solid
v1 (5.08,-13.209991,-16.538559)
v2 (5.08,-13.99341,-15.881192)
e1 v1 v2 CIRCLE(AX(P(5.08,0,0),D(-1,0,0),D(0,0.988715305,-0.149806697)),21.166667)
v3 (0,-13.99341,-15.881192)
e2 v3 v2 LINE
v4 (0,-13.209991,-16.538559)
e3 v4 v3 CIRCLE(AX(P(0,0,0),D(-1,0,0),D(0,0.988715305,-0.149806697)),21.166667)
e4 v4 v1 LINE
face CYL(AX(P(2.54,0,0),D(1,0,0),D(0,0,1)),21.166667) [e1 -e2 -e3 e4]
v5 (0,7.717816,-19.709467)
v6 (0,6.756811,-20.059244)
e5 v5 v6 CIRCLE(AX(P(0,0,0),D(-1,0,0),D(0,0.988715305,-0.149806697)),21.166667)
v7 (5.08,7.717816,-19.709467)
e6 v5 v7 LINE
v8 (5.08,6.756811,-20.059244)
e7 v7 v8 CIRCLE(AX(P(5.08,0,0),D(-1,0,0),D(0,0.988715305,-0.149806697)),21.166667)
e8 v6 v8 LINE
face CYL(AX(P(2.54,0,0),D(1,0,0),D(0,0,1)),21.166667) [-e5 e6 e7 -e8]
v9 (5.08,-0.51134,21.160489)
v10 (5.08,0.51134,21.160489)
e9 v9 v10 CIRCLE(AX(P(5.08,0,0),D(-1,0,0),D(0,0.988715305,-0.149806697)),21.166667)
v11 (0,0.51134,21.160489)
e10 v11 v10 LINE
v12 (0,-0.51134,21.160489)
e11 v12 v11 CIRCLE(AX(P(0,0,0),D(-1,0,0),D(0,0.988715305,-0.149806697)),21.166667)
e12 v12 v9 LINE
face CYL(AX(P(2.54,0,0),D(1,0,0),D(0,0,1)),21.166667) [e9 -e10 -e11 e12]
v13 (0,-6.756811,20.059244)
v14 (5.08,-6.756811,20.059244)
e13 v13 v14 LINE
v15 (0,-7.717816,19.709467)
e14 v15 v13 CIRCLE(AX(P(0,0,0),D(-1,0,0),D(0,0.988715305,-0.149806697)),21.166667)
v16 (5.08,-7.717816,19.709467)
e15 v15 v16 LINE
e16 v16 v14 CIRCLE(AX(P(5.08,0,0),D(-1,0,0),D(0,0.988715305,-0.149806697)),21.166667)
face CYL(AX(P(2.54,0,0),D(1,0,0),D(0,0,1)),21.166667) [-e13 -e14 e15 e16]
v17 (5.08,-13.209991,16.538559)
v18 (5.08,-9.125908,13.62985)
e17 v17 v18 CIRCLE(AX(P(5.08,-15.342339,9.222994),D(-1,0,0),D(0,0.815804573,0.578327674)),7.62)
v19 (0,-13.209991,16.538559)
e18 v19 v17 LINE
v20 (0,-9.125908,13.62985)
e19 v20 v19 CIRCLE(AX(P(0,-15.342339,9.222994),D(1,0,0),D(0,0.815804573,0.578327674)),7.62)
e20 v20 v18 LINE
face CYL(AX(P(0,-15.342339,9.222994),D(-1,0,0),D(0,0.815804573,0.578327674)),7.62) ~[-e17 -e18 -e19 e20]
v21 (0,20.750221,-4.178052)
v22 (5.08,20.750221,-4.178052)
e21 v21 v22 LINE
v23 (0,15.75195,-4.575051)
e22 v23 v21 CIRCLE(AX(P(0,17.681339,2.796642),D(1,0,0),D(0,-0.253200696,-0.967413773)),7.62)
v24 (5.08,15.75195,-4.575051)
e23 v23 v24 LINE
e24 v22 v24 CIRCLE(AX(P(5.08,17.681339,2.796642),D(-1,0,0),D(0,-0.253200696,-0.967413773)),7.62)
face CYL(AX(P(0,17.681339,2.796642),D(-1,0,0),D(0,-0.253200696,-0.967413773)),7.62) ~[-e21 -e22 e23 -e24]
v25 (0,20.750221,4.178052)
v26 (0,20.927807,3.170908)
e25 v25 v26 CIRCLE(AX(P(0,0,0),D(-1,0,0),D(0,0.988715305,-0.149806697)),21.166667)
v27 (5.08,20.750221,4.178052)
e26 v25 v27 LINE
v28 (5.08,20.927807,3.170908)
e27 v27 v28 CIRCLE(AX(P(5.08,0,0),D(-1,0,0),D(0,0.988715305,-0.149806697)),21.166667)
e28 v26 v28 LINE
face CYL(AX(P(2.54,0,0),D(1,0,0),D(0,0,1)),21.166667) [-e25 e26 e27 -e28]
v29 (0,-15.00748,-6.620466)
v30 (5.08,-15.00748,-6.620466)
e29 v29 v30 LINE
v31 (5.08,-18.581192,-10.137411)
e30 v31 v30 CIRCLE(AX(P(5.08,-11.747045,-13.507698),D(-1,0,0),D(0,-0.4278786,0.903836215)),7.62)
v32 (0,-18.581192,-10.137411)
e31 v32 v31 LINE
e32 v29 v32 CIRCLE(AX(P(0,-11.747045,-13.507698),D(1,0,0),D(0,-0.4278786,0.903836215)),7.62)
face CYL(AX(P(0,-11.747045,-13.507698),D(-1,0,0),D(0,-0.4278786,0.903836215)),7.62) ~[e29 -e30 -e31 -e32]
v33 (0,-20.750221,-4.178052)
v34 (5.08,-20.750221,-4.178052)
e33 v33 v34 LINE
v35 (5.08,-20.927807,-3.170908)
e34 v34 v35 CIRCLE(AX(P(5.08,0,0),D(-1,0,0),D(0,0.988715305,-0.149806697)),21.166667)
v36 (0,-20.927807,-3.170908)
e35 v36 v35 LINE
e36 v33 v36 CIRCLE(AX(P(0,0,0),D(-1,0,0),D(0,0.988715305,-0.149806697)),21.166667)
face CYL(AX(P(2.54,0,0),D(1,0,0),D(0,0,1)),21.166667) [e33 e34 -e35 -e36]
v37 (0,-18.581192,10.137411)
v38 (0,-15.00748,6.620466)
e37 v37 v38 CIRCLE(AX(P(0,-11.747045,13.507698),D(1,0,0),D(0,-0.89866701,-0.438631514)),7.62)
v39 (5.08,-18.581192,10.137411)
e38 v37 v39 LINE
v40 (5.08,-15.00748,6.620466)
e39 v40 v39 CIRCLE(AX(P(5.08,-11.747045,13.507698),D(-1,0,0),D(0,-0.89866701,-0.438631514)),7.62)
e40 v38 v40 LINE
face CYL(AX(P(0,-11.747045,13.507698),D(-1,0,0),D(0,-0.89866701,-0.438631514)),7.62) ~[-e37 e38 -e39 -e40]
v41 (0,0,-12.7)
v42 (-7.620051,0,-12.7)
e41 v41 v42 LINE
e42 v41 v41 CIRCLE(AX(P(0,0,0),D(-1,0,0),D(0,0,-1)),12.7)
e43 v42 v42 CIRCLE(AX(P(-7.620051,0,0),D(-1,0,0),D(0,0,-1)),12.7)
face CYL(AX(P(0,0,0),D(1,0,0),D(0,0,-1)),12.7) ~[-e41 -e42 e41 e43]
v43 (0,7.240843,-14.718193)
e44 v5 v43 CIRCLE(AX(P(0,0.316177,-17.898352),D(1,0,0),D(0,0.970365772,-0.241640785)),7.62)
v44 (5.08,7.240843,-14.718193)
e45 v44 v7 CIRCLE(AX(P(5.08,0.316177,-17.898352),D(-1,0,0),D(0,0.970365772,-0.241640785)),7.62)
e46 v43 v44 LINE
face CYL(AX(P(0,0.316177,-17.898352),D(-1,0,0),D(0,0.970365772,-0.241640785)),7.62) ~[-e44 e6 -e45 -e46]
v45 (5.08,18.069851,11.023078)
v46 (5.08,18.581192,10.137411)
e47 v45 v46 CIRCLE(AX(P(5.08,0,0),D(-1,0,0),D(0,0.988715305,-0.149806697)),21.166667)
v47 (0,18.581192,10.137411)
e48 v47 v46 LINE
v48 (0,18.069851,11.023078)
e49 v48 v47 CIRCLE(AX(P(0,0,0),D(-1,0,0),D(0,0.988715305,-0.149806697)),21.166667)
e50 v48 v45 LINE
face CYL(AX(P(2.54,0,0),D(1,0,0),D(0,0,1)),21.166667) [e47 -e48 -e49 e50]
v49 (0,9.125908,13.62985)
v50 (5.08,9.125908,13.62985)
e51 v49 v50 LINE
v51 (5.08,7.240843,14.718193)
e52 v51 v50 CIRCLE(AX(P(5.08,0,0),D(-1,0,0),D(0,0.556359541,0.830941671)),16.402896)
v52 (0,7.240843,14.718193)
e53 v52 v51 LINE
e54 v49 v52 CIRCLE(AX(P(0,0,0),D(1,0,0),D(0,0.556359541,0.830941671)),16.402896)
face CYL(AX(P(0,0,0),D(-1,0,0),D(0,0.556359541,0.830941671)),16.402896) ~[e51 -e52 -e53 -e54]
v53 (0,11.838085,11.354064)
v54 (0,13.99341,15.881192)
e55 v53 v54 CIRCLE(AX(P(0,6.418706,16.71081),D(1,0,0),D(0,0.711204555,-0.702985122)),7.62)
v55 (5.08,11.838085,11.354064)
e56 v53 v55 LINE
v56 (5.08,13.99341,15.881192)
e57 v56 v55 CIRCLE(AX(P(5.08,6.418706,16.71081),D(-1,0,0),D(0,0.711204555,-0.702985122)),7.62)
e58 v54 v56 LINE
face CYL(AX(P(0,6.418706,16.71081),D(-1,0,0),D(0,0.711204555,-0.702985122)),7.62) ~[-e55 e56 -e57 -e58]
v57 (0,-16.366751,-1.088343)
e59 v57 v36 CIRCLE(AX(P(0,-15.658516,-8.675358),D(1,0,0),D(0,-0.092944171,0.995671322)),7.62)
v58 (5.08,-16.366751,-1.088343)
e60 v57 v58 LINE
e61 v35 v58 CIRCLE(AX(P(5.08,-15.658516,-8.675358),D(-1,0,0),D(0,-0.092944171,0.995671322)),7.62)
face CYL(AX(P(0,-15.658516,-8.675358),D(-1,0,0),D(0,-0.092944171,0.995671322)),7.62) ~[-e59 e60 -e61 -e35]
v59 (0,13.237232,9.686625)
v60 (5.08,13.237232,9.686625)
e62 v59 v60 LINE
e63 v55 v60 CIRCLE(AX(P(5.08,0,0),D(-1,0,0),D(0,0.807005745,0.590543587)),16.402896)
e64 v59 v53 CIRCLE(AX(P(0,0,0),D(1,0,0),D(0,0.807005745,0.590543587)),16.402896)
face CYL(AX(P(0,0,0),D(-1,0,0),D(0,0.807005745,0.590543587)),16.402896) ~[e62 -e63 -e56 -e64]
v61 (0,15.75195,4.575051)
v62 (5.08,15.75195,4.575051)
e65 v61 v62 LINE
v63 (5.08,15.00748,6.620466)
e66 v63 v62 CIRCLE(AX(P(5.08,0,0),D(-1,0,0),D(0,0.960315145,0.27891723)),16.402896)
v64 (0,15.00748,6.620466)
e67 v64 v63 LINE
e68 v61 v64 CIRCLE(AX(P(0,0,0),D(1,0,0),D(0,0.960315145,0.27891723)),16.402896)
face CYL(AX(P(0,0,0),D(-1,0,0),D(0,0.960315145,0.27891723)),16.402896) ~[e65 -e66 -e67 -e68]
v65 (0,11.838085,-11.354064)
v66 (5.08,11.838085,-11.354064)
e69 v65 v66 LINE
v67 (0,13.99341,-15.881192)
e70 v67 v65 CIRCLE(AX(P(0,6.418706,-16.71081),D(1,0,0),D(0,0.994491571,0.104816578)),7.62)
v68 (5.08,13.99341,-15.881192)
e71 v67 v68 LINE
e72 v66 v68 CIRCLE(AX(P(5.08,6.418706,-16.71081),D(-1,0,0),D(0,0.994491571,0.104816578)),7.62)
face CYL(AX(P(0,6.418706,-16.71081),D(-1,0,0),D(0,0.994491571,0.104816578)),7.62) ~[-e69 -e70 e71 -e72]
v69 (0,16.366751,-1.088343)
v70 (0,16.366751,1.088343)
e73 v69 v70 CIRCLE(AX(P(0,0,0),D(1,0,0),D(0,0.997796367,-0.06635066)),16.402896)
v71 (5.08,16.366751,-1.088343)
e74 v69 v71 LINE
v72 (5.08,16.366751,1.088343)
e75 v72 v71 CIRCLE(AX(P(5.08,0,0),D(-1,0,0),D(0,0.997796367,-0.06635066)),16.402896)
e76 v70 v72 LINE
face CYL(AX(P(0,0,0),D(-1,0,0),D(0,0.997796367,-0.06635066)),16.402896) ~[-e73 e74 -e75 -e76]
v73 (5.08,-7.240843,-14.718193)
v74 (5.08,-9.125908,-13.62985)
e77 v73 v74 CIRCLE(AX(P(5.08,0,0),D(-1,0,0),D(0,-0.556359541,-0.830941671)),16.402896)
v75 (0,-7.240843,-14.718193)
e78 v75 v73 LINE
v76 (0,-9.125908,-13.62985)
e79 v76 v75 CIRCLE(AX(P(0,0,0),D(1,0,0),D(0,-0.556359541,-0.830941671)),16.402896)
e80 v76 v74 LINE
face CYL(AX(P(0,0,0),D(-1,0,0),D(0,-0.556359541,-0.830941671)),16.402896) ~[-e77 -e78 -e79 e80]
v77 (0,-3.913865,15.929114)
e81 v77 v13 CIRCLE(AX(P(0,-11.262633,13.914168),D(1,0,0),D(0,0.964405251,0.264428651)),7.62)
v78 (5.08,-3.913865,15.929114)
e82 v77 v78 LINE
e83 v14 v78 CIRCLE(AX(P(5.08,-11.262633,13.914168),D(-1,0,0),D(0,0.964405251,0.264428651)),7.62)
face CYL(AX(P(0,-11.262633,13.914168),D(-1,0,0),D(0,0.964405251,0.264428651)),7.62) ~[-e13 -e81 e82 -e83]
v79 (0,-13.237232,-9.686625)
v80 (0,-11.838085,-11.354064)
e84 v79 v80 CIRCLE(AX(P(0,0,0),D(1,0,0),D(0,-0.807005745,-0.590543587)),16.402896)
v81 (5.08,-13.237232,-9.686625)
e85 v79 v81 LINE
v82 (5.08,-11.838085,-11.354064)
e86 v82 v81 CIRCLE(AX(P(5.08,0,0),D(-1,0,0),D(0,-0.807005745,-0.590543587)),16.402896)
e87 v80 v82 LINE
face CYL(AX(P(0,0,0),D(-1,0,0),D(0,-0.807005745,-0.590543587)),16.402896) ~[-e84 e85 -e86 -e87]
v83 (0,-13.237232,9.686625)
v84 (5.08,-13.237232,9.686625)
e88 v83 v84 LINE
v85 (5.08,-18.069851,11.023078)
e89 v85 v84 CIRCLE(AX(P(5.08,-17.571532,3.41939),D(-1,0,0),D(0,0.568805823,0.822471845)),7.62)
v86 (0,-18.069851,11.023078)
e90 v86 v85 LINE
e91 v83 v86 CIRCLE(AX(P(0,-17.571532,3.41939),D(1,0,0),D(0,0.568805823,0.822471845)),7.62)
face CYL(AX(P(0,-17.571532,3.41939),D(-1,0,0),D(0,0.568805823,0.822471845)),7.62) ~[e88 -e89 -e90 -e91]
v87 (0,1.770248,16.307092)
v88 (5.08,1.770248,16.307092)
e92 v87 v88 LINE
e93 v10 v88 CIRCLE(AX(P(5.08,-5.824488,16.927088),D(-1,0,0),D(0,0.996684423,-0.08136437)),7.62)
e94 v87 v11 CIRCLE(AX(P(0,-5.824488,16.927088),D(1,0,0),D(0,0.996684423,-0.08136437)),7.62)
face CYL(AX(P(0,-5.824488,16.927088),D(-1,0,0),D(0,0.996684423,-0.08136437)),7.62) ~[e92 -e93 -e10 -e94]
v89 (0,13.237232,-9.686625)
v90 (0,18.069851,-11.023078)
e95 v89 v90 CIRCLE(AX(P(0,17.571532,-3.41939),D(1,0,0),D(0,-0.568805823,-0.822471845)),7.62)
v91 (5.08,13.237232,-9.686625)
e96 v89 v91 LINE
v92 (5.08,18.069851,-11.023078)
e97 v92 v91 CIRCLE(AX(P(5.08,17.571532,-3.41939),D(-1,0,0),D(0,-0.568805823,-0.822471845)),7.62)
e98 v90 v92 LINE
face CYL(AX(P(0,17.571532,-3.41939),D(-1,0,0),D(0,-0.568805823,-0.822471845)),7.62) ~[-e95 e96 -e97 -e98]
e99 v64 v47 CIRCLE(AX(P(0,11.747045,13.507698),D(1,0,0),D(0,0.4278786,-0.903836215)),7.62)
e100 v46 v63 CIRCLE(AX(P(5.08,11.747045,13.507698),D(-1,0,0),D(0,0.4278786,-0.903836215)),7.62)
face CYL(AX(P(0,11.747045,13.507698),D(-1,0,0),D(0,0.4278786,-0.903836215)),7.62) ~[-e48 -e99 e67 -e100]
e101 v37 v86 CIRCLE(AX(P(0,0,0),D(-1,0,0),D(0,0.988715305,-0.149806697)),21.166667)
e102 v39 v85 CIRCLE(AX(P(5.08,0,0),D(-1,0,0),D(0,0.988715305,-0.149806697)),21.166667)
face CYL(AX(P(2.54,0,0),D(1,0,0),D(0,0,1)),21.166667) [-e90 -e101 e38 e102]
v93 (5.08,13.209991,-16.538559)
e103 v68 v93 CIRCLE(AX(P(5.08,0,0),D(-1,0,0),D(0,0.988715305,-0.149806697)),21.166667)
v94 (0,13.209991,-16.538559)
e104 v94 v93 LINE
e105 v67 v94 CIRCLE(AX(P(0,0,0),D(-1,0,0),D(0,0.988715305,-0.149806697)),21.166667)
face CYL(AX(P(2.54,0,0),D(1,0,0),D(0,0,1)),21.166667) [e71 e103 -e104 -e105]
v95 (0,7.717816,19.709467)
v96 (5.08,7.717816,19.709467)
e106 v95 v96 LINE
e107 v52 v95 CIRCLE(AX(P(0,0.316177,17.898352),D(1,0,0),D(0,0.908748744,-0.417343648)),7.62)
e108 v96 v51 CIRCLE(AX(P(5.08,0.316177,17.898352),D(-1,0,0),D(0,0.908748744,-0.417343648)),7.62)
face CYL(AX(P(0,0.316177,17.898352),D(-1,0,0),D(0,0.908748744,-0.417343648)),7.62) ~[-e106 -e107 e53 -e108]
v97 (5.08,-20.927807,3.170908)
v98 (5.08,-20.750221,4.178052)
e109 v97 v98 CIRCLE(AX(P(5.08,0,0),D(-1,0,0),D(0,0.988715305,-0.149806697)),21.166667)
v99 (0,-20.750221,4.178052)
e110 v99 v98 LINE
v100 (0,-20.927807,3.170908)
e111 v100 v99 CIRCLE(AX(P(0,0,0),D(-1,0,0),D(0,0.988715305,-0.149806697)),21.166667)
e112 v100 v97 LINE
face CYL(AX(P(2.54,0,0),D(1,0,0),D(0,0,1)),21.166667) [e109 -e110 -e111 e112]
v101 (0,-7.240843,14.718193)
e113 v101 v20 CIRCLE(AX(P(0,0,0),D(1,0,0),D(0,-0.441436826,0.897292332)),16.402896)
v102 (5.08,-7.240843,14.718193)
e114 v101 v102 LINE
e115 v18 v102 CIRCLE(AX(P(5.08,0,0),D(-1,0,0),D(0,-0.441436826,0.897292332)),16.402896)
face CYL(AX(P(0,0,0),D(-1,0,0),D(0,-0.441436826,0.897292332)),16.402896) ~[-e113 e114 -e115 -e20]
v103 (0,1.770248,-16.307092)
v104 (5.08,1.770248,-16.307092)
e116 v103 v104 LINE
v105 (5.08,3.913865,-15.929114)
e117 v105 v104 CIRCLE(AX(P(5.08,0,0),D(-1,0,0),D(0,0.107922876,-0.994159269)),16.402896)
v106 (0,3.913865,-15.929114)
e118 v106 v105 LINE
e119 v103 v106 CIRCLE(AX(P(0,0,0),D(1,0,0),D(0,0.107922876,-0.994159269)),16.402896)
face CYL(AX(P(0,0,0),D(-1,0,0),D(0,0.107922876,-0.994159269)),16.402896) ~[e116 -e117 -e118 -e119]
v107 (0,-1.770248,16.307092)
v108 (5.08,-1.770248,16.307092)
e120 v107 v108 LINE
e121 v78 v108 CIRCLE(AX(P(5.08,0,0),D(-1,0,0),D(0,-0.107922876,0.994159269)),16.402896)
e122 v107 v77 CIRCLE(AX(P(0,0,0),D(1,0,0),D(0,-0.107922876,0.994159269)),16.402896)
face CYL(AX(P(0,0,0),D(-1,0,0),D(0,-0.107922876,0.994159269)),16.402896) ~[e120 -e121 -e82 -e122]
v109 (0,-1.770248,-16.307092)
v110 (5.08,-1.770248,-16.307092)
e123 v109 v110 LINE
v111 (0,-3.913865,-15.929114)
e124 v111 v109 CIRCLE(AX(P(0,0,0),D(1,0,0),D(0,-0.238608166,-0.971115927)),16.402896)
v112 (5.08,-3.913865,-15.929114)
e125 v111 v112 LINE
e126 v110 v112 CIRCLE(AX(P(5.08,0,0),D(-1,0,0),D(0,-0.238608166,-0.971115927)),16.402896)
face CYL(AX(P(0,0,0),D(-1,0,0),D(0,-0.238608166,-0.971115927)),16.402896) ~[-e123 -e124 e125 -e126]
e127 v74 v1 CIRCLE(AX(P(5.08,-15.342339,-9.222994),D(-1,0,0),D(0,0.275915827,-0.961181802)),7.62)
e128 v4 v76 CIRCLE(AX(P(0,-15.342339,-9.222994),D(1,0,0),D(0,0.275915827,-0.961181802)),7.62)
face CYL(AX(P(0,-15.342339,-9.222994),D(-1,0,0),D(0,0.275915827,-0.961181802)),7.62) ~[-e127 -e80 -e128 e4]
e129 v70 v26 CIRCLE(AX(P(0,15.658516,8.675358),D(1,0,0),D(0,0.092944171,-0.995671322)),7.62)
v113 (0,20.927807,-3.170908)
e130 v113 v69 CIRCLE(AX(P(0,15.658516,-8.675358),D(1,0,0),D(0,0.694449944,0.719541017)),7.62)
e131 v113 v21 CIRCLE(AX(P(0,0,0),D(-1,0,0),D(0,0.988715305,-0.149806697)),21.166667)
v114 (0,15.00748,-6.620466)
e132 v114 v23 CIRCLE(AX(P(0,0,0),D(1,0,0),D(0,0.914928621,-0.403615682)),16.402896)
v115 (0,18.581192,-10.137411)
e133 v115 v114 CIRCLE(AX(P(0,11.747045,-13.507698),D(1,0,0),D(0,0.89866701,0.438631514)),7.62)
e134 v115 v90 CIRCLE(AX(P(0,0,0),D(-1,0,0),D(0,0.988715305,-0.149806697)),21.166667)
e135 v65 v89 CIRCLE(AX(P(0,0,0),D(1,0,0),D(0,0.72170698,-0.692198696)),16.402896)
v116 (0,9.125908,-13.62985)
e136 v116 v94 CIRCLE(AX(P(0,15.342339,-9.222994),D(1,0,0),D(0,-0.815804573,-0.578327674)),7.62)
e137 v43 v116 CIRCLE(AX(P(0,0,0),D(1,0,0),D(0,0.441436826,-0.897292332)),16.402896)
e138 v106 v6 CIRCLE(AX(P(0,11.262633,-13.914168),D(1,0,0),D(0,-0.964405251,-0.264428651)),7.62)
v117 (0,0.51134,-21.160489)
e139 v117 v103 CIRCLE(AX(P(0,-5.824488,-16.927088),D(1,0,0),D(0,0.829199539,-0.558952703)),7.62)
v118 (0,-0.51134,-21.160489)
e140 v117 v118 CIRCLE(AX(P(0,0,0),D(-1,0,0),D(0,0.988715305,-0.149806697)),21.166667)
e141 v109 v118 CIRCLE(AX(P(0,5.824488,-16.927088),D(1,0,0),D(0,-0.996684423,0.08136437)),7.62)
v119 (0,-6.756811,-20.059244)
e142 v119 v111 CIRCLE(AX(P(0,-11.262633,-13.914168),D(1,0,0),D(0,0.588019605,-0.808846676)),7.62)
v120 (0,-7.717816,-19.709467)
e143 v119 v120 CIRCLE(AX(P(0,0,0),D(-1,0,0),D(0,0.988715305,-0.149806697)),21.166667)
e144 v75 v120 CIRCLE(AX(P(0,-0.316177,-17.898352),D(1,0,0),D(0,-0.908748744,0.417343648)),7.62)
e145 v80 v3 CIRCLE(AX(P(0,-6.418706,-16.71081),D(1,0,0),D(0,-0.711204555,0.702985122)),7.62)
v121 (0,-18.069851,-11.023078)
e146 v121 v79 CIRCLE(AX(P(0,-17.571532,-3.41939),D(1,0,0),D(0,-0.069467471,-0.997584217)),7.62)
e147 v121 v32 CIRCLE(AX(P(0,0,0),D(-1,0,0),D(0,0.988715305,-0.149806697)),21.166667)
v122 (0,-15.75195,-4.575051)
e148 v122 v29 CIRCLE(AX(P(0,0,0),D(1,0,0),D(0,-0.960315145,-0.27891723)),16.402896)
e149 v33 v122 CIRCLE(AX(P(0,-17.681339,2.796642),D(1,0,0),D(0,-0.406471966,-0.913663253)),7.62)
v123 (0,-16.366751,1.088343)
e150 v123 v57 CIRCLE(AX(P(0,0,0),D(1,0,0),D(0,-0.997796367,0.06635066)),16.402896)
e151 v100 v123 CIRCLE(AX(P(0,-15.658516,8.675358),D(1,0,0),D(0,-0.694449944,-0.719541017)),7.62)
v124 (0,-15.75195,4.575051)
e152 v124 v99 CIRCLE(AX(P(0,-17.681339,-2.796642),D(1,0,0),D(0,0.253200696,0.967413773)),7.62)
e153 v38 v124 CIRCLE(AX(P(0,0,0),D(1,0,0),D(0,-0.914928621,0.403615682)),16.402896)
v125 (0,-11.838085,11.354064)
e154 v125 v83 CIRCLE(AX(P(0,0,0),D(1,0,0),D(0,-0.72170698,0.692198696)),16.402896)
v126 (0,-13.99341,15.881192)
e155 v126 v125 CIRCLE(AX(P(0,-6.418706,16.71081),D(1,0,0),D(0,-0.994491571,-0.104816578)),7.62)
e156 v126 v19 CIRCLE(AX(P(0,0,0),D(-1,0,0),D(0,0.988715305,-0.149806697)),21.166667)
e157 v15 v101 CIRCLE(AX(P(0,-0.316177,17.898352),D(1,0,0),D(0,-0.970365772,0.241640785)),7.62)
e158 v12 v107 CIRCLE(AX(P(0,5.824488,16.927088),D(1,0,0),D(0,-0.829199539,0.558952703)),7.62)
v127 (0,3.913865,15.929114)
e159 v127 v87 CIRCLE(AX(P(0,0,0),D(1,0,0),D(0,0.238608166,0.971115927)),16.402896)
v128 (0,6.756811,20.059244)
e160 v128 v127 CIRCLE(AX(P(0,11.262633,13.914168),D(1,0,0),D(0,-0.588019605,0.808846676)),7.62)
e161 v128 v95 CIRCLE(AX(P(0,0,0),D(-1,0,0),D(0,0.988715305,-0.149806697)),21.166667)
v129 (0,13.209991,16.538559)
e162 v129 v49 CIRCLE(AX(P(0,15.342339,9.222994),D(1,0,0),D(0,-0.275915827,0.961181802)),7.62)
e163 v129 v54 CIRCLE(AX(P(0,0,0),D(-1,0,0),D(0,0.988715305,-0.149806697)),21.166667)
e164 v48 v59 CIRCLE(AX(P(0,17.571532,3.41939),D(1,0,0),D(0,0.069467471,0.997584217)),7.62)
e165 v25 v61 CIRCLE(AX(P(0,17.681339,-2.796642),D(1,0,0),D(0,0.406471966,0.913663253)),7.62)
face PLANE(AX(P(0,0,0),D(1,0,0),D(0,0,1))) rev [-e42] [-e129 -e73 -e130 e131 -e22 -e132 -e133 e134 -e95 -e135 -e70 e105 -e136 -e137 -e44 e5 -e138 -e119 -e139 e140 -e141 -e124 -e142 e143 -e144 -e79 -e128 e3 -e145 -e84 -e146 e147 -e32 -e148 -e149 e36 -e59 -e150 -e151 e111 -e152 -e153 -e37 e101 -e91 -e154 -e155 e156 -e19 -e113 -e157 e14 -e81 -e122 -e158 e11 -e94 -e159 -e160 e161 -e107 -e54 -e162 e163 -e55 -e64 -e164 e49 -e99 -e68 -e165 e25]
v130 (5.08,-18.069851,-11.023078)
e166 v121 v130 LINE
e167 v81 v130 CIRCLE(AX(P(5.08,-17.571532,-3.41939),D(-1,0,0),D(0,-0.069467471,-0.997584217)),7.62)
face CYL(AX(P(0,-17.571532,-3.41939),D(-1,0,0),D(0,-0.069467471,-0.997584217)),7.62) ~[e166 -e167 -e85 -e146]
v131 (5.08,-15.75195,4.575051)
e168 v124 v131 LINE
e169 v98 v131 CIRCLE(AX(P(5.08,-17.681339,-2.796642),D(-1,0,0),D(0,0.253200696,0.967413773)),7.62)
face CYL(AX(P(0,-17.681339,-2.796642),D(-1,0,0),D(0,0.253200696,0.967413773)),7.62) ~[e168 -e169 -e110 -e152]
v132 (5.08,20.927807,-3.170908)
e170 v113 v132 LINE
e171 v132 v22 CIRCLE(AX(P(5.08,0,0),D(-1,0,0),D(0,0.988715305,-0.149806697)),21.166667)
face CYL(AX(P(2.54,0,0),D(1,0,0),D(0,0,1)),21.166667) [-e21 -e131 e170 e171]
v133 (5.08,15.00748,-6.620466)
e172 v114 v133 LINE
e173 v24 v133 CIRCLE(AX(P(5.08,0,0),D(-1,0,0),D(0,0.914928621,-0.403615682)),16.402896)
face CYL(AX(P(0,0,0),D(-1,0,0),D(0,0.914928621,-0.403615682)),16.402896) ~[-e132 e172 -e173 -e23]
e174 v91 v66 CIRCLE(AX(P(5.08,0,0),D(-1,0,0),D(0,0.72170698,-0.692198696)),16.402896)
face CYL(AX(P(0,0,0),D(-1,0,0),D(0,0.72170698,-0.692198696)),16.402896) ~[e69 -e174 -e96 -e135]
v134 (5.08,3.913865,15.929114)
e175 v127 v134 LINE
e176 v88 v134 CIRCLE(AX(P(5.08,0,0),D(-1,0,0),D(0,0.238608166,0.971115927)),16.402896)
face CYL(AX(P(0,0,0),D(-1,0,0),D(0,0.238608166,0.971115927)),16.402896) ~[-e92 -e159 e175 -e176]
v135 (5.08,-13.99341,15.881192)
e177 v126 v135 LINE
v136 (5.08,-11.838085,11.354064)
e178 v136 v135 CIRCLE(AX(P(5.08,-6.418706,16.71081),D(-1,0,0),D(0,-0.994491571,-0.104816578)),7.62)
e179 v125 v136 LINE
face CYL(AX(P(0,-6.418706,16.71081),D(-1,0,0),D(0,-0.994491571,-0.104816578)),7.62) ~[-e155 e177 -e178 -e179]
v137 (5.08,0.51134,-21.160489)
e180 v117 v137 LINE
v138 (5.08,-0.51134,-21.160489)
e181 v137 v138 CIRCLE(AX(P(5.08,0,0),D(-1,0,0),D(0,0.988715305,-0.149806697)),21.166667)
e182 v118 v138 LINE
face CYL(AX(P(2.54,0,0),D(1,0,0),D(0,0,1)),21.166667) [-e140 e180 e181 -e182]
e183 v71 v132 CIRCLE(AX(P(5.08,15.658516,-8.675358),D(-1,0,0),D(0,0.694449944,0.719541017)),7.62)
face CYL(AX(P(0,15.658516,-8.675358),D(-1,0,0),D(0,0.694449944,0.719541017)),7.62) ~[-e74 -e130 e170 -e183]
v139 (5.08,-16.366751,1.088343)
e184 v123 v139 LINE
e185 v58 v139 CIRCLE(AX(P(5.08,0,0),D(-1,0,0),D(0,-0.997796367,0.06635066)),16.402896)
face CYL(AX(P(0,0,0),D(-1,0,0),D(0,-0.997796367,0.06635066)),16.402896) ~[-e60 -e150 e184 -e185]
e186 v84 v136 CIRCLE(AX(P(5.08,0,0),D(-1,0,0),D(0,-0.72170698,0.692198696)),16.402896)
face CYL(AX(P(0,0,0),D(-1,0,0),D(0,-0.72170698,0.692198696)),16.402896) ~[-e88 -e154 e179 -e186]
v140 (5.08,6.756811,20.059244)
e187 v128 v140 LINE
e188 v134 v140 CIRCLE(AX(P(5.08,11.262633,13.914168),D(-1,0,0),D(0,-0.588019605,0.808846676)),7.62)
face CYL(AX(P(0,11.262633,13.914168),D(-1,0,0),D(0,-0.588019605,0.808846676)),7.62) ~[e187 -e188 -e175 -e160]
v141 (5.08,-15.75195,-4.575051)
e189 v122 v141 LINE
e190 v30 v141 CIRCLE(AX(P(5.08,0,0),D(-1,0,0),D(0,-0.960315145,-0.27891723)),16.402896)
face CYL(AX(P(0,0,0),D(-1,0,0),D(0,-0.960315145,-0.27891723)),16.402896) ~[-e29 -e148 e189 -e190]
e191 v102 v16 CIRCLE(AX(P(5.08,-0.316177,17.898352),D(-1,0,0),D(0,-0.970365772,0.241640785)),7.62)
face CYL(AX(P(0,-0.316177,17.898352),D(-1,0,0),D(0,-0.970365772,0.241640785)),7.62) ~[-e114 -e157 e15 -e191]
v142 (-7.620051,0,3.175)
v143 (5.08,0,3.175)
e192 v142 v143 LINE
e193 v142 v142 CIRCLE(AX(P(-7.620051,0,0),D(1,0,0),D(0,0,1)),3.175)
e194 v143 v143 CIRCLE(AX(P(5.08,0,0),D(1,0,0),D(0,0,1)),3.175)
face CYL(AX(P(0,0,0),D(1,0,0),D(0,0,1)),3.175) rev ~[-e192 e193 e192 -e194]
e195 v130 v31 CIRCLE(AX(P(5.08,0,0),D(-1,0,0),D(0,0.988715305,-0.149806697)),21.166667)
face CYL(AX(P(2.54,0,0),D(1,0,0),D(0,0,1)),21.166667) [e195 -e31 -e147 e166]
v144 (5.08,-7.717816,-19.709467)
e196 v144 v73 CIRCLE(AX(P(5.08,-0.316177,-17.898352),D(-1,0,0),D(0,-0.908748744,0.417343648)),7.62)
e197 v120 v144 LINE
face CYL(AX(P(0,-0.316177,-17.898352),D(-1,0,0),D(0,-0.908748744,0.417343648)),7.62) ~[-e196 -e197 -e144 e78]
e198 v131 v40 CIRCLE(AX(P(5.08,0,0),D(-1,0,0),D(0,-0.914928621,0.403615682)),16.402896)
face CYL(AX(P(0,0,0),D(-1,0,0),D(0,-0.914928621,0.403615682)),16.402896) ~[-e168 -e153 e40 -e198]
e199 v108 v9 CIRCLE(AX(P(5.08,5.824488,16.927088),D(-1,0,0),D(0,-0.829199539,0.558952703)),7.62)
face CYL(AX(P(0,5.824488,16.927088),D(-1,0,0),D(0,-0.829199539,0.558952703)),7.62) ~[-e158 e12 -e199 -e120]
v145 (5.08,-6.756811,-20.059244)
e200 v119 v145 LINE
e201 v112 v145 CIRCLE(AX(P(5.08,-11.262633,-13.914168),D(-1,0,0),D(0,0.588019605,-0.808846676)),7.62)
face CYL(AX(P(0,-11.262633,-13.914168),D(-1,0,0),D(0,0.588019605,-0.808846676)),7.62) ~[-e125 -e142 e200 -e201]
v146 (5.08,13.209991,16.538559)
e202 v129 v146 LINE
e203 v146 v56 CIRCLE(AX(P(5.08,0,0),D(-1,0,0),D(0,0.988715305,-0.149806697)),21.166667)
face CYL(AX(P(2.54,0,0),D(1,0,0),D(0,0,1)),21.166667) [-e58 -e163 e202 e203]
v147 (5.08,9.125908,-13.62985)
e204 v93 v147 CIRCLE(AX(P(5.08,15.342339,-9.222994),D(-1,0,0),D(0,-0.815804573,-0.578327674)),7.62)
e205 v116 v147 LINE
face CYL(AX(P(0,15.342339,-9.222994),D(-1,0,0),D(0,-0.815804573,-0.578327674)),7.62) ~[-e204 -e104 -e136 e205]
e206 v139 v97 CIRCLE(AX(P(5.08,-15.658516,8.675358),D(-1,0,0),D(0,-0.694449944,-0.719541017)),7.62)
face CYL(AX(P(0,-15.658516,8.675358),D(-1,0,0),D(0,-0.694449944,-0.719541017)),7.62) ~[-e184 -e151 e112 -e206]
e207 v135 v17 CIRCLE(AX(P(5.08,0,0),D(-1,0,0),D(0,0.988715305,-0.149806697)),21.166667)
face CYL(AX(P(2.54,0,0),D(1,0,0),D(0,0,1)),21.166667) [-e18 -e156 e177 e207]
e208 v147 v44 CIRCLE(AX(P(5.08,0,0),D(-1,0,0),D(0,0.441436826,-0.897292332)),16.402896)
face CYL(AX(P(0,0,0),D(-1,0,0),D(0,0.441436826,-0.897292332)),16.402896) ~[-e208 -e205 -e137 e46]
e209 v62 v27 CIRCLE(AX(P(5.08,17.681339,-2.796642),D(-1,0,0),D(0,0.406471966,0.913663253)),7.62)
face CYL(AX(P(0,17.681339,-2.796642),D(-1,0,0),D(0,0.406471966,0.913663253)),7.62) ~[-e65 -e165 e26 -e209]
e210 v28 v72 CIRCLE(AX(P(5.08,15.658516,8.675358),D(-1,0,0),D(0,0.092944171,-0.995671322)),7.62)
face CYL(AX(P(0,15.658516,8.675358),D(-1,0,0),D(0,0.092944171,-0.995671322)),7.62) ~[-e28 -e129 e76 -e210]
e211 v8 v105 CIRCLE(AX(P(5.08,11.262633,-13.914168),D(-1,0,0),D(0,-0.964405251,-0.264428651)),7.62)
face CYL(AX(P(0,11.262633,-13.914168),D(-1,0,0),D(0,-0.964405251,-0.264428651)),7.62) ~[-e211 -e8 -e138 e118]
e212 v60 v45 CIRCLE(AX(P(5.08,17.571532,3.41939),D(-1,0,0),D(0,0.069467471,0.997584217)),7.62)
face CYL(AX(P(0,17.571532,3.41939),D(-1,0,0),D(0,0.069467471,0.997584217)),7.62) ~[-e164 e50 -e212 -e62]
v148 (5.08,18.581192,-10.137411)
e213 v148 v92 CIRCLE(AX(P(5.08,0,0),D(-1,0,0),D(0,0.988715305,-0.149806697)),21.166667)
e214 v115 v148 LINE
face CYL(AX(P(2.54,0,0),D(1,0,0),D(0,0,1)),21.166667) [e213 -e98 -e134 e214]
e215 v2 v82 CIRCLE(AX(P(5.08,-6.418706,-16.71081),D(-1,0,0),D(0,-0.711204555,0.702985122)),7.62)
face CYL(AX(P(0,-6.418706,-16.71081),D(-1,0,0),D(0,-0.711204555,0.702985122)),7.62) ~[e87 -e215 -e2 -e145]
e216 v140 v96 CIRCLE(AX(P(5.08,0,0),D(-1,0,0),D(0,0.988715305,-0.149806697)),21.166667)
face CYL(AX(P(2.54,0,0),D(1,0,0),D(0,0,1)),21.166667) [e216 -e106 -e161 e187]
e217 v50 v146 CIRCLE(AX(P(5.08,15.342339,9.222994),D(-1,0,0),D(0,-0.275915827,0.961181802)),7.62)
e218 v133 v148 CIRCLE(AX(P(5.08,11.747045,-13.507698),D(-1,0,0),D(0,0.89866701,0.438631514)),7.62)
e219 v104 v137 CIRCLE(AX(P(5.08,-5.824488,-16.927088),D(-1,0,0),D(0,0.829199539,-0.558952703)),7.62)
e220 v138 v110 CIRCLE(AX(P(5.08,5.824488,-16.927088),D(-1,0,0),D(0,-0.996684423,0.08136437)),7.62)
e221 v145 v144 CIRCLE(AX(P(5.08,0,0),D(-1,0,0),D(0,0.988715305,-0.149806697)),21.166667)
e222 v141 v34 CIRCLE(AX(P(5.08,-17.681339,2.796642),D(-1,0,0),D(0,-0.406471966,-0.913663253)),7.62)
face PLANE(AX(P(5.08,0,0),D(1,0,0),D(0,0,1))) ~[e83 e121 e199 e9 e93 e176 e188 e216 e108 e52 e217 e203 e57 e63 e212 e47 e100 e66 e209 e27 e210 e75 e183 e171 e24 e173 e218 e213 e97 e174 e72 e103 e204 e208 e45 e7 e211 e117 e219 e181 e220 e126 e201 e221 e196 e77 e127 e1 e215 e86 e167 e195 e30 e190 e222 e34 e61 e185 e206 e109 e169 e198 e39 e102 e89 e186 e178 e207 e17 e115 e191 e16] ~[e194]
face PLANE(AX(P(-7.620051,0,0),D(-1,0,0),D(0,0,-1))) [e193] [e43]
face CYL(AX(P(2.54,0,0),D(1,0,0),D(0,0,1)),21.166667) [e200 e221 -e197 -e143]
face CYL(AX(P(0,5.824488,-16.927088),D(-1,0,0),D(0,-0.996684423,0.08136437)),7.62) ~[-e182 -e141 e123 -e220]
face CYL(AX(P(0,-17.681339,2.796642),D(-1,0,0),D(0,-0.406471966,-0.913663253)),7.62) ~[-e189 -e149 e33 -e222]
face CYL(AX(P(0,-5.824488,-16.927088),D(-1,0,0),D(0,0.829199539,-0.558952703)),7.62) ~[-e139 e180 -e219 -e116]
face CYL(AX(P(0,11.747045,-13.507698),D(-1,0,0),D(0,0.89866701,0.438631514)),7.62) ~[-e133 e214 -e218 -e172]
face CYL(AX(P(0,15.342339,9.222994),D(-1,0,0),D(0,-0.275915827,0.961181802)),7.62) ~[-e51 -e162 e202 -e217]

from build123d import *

# Parameters (mm, degrees)
BASPROSKE_W      = 5.08
BASPROSKE_H      = 21.166666667
TOOTHCUT_DEPTH   = 31.36217969
TEETHCUTS_COUNT  = 18
TEETHCUTS_ANGLE  = 340
HUBNEAONESKE_R   = 12.7
HUBNEARONE_DEPTH = 7.6200508
BORSKE_R         = 3.175
BORE_DEPTH       = 12.7000508


with BuildPart() as part:
    # BasProSke → Base-Revolve (revolve)
    with BuildSketch(Plane(origin=(0, 0, 0), x_dir=(1, 0, 0), z_dir=(0, 1, 0)), mode=Mode.PRIVATE) as base_revolve_sk:
        with Locations((2.54, 10.583333334)):
            Rectangle(BASPROSKE_W, BASPROSKE_H)
    revolve(base_revolve_sk.sketch.rotate(Axis((-10, 0, 0), (1, 0, 0)), 180), axis=Axis((-10, 0, 0), (1, 0, 0)))

    # TooCutSke → ToothCut (cut, through all)
    with BuildSketch(Plane(origin=(0, 0, 0), x_dir=(0, 0, -1), z_dir=(1, 0, 0))):
        with BuildLine():
            ThreePointArc((1.088343012, 16.366750702), (0, 16.402896667), (-1.088343012, 16.366750702))
            ThreePointArc((-1.088343012, 16.366750702), (-1.750205221, 18.83761226), (-3.192455936, 20.950224693))
            ThreePointArc((-3.192455936, 20.950224693), (0, 21.192066667), (3.192455936, 20.950224693))
            ThreePointArc((3.192455936, 20.950224693), (1.750205221, 18.83761226), (1.088343012, 16.366750702))
        make_face()
    toothcut = extrude(amount=TOOTHCUT_DEPTH, mode=Mode.SUBTRACT)

    # TeethCuts: ToothCut ×18 about axis
    teethcuts_axis = Axis((-10, 0, 0), (1, 0, 0))
    for i in range(1, TEETHCUTS_COUNT):
        add(toothcut.rotate(teethcuts_axis, i * TEETHCUTS_ANGLE / (TEETHCUTS_COUNT - 1)), mode=Mode.SUBTRACT)

    # HubNeaOneSke → HubNearOne (add)
    with BuildSketch(Plane.ZY):
        with Locations(Location((0, 0, 0), (0, 0, 180))):
            Circle(HUBNEAONESKE_R)
    extrude(amount=HUBNEARONE_DEPTH)

    # BorSke → Bore (cut, symmetric)
    with BuildSketch(Plane(origin=(0, 0, 0), x_dir=(0, 0, -1), z_dir=(1, 0, 0))):
        with Locations(Location((0, 0, 0), (0, 0, 180))):
            Circle(BORSKE_R)
    extrude(amount=BORE_DEPTH, both=True, mode=Mode.SUBTRACT)


solid = part.part
